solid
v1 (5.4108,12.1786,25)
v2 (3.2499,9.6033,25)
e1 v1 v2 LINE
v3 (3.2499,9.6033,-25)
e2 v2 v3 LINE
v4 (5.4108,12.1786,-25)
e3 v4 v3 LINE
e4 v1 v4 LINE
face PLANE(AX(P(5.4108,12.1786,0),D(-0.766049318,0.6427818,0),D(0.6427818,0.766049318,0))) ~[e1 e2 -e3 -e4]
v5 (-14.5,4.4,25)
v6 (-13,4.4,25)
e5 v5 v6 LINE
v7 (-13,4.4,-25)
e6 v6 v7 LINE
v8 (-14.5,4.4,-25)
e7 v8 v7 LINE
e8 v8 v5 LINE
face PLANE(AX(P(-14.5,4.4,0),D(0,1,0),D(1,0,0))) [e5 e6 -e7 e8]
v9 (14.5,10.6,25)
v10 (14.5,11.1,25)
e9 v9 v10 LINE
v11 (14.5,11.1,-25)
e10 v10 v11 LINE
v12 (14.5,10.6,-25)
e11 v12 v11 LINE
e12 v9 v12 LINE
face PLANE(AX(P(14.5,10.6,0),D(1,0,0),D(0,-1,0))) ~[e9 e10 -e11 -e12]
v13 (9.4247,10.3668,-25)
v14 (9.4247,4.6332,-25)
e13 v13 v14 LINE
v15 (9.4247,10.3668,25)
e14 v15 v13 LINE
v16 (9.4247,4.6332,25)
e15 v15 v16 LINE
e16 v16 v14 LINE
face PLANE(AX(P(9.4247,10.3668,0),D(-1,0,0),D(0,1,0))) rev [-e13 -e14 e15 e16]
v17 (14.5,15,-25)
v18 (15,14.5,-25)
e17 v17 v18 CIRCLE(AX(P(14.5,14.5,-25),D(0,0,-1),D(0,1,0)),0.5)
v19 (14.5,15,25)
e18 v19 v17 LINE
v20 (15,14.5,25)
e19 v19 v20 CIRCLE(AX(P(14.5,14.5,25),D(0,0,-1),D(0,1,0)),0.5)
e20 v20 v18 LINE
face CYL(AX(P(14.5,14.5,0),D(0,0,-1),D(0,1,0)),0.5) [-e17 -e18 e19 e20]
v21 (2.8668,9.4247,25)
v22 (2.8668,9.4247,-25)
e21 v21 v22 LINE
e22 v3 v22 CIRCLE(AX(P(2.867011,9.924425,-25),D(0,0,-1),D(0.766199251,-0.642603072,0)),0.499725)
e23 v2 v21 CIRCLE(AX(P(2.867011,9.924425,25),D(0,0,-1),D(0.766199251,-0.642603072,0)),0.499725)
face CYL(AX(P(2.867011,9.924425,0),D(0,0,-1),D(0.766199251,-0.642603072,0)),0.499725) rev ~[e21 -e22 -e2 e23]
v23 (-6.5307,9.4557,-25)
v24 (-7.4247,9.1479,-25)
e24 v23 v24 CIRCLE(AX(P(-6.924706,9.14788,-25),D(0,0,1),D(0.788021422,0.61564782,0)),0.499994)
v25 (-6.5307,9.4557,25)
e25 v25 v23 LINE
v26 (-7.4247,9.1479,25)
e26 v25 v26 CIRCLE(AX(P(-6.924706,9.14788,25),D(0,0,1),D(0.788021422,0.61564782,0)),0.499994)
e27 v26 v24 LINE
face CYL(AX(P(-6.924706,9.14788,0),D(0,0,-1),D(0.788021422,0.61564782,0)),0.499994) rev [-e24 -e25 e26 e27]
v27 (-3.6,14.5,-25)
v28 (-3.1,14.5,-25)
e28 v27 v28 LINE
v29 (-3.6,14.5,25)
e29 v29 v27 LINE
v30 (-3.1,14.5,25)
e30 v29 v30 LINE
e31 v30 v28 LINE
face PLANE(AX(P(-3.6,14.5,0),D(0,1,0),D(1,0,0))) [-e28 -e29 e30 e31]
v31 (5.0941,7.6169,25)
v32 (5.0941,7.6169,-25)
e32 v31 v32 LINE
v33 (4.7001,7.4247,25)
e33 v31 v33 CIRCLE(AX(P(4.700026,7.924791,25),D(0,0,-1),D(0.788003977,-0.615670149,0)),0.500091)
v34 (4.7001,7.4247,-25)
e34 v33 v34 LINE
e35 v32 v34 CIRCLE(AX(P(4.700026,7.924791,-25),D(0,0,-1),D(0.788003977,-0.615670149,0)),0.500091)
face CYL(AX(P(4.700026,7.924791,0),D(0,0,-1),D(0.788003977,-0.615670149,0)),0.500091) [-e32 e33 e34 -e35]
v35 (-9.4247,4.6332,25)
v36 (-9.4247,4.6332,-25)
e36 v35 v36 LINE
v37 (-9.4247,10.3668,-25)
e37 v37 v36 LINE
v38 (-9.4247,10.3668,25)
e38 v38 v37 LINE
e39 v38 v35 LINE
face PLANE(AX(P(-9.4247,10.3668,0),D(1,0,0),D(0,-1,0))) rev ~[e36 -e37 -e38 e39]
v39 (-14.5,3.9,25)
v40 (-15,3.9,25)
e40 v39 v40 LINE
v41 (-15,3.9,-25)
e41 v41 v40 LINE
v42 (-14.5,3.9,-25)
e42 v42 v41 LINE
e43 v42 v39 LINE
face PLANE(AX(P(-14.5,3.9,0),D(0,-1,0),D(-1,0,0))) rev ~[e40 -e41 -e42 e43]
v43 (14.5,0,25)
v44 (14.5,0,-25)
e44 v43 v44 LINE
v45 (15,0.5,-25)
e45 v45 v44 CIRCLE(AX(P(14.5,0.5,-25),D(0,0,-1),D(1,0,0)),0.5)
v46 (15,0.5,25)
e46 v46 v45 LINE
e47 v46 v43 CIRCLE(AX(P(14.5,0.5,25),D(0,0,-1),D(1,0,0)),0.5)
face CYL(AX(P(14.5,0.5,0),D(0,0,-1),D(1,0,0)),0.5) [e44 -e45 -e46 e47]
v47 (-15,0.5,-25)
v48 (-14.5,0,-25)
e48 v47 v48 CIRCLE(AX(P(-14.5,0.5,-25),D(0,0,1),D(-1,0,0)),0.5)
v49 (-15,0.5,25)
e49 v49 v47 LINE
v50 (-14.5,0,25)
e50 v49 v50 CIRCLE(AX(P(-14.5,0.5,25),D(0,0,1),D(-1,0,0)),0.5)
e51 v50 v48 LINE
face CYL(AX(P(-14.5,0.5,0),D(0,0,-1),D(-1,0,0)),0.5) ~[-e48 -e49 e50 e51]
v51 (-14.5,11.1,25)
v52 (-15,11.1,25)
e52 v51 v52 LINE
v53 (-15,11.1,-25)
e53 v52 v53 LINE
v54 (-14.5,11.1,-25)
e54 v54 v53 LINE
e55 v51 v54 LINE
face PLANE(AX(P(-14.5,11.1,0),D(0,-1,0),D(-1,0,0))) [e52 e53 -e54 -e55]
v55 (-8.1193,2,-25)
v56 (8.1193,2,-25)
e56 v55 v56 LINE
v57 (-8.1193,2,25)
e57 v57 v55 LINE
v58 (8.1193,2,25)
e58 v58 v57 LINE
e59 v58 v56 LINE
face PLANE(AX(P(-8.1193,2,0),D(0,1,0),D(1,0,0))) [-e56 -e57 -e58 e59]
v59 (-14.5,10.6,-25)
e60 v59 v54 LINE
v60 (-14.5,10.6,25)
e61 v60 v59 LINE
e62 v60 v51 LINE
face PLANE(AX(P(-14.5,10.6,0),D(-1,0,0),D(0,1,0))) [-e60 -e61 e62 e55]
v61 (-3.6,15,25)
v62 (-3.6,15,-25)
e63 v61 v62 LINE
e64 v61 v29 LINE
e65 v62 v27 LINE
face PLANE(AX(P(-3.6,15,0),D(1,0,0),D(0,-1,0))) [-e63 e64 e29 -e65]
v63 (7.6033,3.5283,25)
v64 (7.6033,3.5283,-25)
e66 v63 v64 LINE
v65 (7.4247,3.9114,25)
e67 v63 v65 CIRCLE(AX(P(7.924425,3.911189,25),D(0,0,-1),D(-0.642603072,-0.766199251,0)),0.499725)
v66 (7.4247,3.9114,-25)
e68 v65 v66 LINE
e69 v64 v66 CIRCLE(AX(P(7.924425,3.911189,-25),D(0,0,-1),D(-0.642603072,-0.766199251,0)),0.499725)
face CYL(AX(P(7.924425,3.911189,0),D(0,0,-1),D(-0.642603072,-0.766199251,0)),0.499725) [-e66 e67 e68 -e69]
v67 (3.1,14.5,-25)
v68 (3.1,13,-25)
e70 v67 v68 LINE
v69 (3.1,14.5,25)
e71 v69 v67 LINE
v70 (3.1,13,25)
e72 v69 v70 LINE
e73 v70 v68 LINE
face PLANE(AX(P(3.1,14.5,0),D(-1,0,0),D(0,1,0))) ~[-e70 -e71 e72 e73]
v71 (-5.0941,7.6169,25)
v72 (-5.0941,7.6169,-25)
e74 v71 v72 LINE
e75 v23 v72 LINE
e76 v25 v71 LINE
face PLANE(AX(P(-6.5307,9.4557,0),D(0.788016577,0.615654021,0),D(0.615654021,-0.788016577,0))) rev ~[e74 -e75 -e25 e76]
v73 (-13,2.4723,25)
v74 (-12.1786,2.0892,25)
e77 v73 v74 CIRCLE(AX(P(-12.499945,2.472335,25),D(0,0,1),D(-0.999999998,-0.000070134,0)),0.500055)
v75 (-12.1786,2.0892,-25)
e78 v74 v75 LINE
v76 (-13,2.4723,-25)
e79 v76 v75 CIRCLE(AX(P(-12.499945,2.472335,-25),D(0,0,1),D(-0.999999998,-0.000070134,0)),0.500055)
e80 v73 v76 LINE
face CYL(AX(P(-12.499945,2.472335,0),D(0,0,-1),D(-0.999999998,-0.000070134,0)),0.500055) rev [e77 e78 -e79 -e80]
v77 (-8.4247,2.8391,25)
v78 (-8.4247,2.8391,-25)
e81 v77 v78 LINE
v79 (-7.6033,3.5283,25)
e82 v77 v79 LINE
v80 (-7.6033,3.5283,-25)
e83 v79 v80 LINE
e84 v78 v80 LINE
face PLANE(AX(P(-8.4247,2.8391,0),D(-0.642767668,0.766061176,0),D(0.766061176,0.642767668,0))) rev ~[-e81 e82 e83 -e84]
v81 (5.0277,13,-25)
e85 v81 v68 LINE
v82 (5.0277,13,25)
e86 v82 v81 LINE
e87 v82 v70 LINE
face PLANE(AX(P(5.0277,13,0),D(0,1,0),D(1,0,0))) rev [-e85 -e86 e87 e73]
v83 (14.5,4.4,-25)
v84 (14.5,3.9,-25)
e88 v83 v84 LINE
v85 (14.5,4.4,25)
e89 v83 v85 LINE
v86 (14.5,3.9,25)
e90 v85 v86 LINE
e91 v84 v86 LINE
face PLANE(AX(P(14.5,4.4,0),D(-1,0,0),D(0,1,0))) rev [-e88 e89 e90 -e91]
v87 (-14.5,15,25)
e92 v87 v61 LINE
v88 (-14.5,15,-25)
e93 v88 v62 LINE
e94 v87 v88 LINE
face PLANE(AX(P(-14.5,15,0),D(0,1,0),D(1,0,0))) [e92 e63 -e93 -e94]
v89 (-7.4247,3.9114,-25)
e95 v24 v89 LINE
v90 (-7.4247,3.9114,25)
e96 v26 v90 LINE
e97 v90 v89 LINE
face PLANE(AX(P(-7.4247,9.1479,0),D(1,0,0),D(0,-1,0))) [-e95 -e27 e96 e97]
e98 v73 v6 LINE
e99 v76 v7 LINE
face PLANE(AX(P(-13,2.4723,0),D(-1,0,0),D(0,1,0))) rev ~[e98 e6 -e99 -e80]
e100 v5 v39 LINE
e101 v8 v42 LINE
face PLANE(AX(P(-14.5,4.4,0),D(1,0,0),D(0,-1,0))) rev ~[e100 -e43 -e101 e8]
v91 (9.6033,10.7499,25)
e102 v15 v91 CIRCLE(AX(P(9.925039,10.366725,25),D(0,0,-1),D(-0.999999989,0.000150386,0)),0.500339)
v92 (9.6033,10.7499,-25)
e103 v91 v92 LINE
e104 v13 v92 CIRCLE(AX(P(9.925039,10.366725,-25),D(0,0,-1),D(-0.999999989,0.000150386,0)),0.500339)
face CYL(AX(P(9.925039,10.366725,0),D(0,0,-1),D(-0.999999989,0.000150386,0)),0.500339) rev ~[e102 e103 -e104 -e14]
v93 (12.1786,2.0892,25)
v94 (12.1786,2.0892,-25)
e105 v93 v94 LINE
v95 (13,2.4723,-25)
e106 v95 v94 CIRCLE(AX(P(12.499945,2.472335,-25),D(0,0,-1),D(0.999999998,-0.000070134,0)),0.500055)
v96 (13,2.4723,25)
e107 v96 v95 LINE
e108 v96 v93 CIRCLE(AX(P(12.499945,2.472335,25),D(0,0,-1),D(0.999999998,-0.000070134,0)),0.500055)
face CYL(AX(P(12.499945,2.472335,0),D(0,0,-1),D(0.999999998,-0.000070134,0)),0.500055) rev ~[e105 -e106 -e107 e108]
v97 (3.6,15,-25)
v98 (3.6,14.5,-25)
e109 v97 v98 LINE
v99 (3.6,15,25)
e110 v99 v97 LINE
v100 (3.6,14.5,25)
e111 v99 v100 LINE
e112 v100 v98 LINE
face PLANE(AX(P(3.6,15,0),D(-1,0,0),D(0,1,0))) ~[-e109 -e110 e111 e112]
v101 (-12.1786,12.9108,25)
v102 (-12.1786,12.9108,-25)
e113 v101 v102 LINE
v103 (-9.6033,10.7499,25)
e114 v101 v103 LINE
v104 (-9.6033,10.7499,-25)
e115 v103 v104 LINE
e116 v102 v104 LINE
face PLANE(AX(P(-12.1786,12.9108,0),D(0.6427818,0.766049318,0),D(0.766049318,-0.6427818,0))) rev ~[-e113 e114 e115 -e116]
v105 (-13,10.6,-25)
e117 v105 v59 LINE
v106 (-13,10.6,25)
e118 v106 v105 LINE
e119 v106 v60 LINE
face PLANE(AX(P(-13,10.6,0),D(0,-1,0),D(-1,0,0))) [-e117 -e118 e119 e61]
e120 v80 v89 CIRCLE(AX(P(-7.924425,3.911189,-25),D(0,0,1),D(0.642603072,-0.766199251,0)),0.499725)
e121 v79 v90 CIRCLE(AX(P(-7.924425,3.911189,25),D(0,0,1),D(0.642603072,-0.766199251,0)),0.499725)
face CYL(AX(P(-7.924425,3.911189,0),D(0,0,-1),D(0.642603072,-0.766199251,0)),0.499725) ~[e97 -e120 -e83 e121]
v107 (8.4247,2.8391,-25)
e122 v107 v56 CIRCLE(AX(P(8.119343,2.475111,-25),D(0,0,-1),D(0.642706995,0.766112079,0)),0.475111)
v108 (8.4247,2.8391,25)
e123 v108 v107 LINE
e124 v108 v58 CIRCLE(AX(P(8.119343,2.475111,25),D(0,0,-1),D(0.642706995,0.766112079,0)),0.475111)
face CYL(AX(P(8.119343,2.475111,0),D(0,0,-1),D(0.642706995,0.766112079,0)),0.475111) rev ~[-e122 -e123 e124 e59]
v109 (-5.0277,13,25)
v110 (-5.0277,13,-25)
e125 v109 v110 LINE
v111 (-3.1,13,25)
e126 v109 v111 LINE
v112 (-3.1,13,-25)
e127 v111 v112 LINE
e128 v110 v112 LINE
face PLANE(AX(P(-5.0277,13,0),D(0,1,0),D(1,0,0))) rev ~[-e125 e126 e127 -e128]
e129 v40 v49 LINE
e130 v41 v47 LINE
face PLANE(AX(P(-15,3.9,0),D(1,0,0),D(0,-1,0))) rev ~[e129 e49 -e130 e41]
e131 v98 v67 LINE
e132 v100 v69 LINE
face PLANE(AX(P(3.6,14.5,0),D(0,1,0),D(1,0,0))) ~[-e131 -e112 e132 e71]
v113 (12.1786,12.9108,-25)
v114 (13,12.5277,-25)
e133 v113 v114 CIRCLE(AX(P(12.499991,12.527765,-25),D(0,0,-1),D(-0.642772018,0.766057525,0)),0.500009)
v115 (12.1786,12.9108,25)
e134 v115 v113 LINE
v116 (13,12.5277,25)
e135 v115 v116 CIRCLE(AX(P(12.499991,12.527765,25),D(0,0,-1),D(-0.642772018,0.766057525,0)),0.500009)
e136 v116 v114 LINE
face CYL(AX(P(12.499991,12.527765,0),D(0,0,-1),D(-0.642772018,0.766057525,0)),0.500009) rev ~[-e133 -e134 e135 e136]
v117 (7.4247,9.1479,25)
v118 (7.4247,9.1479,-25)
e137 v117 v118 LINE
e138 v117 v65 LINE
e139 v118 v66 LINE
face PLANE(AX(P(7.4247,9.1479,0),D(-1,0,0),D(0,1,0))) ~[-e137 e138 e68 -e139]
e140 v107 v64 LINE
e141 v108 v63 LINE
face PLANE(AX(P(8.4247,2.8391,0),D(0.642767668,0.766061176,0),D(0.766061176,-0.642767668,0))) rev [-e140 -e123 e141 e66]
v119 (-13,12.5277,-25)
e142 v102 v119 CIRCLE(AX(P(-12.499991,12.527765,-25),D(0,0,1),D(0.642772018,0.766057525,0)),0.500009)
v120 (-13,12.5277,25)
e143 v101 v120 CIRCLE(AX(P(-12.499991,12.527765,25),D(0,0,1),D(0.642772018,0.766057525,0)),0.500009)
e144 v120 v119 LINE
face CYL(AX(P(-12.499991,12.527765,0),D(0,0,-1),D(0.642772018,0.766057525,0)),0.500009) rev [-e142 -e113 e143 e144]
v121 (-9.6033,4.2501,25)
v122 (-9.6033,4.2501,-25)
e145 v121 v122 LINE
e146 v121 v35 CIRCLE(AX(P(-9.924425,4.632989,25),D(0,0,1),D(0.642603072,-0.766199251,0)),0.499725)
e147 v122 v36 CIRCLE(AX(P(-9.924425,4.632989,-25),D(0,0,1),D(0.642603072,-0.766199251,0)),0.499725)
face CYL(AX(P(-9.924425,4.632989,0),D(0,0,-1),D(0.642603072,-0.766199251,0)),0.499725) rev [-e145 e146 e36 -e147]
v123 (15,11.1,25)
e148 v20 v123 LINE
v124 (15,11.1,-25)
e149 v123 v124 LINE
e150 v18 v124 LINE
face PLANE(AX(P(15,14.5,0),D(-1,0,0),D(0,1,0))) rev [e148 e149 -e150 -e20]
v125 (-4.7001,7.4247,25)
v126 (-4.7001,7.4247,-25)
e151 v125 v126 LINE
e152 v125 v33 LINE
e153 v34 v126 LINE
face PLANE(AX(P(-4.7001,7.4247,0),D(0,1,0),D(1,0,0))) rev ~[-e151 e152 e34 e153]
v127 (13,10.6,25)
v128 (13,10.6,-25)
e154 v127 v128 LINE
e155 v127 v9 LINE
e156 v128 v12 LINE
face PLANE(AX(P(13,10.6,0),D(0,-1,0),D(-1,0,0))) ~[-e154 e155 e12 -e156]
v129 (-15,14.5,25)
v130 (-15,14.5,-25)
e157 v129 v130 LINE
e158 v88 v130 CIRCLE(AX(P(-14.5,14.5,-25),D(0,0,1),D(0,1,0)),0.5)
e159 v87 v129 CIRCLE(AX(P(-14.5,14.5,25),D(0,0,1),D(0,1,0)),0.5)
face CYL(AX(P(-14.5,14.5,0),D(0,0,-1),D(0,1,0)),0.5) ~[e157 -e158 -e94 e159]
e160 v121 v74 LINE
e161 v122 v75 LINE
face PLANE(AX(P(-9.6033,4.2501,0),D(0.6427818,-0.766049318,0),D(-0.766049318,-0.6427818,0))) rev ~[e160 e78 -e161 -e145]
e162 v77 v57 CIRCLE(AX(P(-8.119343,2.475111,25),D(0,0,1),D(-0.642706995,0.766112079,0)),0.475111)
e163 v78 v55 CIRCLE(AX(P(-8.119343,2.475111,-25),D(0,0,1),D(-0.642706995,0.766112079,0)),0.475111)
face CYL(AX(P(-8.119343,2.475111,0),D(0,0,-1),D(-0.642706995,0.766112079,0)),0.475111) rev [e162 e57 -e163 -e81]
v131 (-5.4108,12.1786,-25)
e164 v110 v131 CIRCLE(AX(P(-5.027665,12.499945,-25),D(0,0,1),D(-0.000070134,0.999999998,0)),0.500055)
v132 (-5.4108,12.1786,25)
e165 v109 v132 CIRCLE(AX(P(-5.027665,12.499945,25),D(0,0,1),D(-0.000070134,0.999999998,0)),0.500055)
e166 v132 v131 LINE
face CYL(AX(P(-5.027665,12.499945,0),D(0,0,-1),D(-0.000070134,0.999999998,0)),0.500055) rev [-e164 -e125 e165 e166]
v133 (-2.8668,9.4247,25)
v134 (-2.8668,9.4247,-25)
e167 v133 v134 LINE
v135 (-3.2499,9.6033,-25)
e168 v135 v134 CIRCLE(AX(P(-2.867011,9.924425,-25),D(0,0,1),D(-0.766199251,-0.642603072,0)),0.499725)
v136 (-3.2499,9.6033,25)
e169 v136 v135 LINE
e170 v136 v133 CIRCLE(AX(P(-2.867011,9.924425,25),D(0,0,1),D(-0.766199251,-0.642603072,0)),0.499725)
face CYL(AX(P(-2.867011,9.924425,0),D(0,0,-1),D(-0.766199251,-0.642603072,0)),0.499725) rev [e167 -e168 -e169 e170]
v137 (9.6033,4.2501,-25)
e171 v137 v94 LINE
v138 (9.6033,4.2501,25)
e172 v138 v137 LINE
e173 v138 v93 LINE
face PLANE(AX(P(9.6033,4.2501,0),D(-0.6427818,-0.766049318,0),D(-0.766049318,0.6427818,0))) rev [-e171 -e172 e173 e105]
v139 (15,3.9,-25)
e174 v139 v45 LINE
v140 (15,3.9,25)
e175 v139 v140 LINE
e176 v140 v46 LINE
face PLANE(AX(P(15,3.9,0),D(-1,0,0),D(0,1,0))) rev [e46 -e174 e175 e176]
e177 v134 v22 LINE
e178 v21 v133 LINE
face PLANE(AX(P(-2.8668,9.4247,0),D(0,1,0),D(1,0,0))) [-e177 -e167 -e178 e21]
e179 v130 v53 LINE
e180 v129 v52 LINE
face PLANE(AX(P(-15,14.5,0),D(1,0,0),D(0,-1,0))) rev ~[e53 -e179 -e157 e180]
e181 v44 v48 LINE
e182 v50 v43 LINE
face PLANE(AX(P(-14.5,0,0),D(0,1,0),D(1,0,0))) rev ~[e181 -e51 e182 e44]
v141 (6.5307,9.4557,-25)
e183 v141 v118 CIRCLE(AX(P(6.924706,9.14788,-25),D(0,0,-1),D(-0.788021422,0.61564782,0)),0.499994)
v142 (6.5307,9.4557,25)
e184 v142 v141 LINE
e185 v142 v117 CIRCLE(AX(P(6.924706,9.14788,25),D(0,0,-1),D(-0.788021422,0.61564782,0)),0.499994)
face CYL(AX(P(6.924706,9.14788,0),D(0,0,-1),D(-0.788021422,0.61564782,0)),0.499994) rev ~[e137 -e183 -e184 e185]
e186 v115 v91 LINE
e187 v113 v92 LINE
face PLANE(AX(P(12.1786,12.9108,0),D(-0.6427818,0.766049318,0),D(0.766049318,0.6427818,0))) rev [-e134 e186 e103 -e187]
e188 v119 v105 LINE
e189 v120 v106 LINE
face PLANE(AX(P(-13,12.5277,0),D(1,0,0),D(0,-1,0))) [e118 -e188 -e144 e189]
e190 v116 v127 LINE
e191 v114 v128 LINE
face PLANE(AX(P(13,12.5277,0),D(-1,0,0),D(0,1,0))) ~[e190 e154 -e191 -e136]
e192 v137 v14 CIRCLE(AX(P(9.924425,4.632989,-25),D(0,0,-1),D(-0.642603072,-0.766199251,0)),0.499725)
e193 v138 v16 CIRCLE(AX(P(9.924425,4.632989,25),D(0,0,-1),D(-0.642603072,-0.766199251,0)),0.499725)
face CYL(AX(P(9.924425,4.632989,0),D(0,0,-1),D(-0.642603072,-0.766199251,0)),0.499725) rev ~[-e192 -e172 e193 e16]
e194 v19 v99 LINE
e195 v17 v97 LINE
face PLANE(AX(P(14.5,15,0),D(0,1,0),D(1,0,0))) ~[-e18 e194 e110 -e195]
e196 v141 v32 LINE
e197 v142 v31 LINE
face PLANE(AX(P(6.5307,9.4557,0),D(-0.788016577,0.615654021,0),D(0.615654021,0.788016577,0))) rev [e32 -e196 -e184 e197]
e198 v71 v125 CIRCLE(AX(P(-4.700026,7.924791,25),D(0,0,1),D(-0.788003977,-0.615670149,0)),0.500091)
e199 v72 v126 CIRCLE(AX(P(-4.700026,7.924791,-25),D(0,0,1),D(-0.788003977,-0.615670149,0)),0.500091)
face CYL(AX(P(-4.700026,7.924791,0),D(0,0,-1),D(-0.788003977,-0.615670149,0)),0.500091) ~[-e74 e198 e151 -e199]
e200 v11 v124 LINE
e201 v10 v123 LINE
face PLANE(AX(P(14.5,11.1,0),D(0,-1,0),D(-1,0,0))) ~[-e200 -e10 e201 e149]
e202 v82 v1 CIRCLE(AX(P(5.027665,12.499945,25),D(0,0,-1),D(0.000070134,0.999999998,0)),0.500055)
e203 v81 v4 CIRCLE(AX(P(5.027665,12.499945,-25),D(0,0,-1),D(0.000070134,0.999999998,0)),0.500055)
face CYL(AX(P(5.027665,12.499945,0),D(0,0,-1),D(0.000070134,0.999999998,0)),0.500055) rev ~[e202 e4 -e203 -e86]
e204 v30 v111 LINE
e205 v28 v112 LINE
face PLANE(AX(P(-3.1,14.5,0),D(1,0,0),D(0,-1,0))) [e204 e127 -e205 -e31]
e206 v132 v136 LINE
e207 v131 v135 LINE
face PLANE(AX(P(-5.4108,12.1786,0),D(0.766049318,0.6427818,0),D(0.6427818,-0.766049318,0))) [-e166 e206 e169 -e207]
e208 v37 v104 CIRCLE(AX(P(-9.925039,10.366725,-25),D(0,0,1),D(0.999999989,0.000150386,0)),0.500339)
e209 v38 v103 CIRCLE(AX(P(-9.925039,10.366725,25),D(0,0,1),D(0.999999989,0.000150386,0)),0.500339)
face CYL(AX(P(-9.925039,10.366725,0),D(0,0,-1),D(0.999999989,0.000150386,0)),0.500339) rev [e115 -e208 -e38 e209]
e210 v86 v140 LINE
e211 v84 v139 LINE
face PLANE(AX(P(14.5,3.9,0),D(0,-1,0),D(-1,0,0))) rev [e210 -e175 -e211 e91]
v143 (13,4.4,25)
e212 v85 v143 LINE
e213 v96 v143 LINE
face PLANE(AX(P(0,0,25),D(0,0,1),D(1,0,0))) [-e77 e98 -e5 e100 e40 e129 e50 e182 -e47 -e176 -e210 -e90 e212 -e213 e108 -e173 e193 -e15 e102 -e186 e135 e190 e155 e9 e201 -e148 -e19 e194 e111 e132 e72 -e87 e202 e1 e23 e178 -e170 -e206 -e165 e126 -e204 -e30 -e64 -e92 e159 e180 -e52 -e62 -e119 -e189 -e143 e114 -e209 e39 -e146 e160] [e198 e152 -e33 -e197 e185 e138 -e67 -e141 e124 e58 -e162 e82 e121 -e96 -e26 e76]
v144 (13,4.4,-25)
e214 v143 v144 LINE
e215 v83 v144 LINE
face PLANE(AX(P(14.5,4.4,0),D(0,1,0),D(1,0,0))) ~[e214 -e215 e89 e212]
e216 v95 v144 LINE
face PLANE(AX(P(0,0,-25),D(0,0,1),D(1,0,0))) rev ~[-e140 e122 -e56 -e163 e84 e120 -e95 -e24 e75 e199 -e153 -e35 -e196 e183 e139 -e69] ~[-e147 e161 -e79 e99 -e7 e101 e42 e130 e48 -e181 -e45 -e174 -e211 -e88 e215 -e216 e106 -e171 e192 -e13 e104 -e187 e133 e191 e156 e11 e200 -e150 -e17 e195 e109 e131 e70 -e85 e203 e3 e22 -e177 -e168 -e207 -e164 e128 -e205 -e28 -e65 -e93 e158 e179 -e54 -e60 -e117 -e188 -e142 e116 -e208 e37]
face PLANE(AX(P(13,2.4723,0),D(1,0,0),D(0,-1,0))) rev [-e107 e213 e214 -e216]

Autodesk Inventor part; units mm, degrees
ref_plane "YZ Plane" through (0, 0, 0) normal (1, 0, 0) x (0, 1, 0)
ref_plane "XZ Plane" through (0, 0, 0) normal (0, 1, 0) x (-1, 0, 0)
ref_plane "XY Plane" through (0, 0, 0) normal (0, 0, 1) x (1, 0, 0)
sketch "Esboço1" plane through (0, 0, 0) normal (0, 0, 1) x (1, 0, 0)
  line L0 (-15, 15) -> (15, 15) construction
  line L1 (-15, 15) -> (-15, 10.6) construction
  line L2 (-15, 10.6) -> (-13, 10.6) construction
  line L3 (-13, 13.6) -> (-13, 10.6) construction
  line L4 (-13, 13.6) -> (-9.4247, 10.6) construction
  line L5 (-9.4247, 10.6) -> (-9.4247, 4.4) construction
  line L6 (-9.4247, 4.4) -> (-13, 1.4) construction
  line L7 (-13, 4.4) -> (-13, 1.4) construction
  line L8 (-15, 4.4) -> (-13, 4.4) construction
  line L9 (-15, 4.4) -> (-15, 0) construction
  line L10 (-15, 0) -> (0, 0) construction
  line L11 (-15, 4.4) -> (-14.5, 4.4) construction
  line L12 (-14.5, 4.4) -> (-14.5, 3.9)
  line L13 (-14.5, 3.9) -> (-15, 3.9)
  line L14 (-15, 3.9) -> (-15, 4.4) construction
  line L15 (-15, 10.6) -> (-14.5, 10.6) construction
  line L16 (-14.5, 10.6) -> (-14.5, 11.1)
  line L17 (-14.5, 11.1) -> (-15, 11.1)
  line L18 (-15, 11.1) -> (-15, 10.6) construction
  line L19 (-3.1, 9.4247) -> (3.1, 9.4247) construction
  line L20 (-6.1, 13) -> (-3.1, 9.4247) construction
  line L21 (-6.1, 13) -> (-3.1, 13) construction
  line L22 (-3.1, 15) -> (-3.1, 13) construction
  line L23 (-3.1, 9.4247) -> (0, 9.4247) construction
  line L24 (-3.1, 15) -> (-3.6, 15) construction
  line L25 (-3.6, 15) -> (-3.6, 14.5)
  line L26 (-3.6, 14.5) -> (-3.1, 14.5)
  line L27 (-3.1, 14.5) -> (-3.1, 15) construction
  line L28 (-9.4247, 2) -> (0, 2) construction
  line L29 (-7.4247, 3.6782) -> (-9.4247, 2) construction
  line L30 (-7.4247, 10.6) -> (-7.4247, 3.6782) construction
  line L31 (-7.4247, 10.6) -> (-4.944, 7.4247) construction
  line L32 (-4.944, 7.4247) -> (0, 7.4247) construction
  arc A0 (-14.5, 15) -> (-15, 14.5) centre (-14.5, 14.5) ccw
  arc A1 (-12.1786, 12.9108) -> (-13, 12.5277) centre (-12.5, 12.5277) ccw
  line L33 (-14.5, 15) -> (-3.6, 15)
  line L34 (-13, 12.5277) -> (-13, 10.6)
  line L35 (-13, 10.6) -> (-14.5, 10.6)
  arc A2 (-9.4247, 10.3668) -> (-9.6033, 10.7499) centre (-9.9247, 10.3668) ccw
  arc A3 (-9.6033, 4.2501) -> (-9.4247, 4.6332) centre (-9.9247, 4.6332) ccw
  arc A4 (-13, 2.4723) -> (-12.1786, 2.0892) centre (-12.5, 2.4723) ccw
  line L36 (-12.1786, 12.9108) -> (-9.6033, 10.7499)
  line L37 (-9.4247, 10.3668) -> (-9.4247, 4.6332)
  line L38 (-9.6033, 4.2501) -> (-12.1786, 2.0892)
  line L39 (-13, 2.4723) -> (-13, 4.4)
  arc A5 (-15, 0.5) -> (-14.5, 0) centre (-14.5, 0.5) ccw
  line L40 (-15, 14.5) -> (-15, 11.1)
  line L41 (-15, 3.9) -> (-15, 0.5)
  line L42 (-14.5, 0) -> (0, 0)
  arc A6 (-8.4247, 2.8391) -> (-8.1193, 2) centre (-8.1193, 2.4751) ccw
  arc A7 (-6.5307, 9.4557) -> (-7.4247, 9.1479) centre (-6.9247, 9.1479) ccw
  line L43 (-8.1193, 2) -> (0, 2)
  arc A8 (-7.6033, 3.5283) -> (-7.4247, 3.9114) centre (-7.9247, 3.9114) ccw
  arc A9 (-5.0941, 7.6169) -> (-4.7001, 7.4247) centre (-4.7001, 7.9247) ccw
  arc A10 (-3.2499, 9.6033) -> (-2.8668, 9.4247) centre (-2.8668, 9.9247) ccw
  arc A11 (-5.0277, 13) -> (-5.4108, 12.1786) centre (-5.0277, 12.5) ccw
  line L44 (-5.0277, 13) -> (-3.1, 13)
  line L45 (-5.4108, 12.1786) -> (-3.2499, 9.6033)
  line L46 (-2.8668, 9.4247) -> (0, 9.4247)
  line L47 (-4.7001, 7.4247) -> (0, 7.4247)
  line L48 (-6.5307, 9.4557) -> (-5.0941, 7.6169)
  line L49 (-7.4247, 9.1479) -> (-7.4247, 3.9114)
  line L50 (0, 2) -> (0, 0)
  line L51 (0, 7.4247) -> (0, 9.4247)
  line L52 (-3.1, 14.5) -> (-3.1, 13)
  line L53 (-14.5, 4.4) -> (-13, 4.4)
  line L54 (-8.4247, 2.8391) -> (-7.6033, 3.5283)
  point P0 (0, 0)
  point P1 (0, 15)
  point P2 (-14, 4.4)
  point P3 (-1.55, 9.4247)
  point P4 (-9.6033, 10.7499)
  dimension "d0" = 30
  dimension "d1" = 15
  dimension "d6" = 2
  dimension "d7" = 3
  dimension "d9" = 50
  dimension "d12" = 0.5
  dimension "d18" = 50
  dimension "d19" = 2
  dimension "d21" = 2
  dimension "d22" = 2
  dimension "d24" = 2
  dimension "d25" = 0.5
  dimension "d26" = 0.5
  dimension "d27" = 0.5
  dimension "d28" = 0.5
  dimension "d29" = 0.5
  dimension "d30" = 0.5
  dimension "d31" = 0.5
  dimension "d32" = 0.5
  dimension "d33" = 0.5
  dimension "d34" = 0.5
  dimension "d35" = 0.5
  dimension "d38" = 3.1
  dimension "d39" = 6.2
  dimension "d40" = 15
extrude "Extrusão1" add sketch "Esboço1" along normal mid plane 50
mirror "Espelhar1" about plane through (0, 0, 0) normal (1, 0, 0) of "Extrusão1"
equation "\"d6\" = d21"
equation "\"d18\" = d9"
equation "\"d19\" = d21"
equation "\"d22\" = d20"
equation "\"d24\" = d21"
equation "\"d25\" = d35"
equation "\"d26\" = d35"
equation "\"d27\" = d35"
equation "\"d28\" = d35"
equation "\"d29\" = d35"
equation "\"d30\" = d35"
equation "\"d31\" = d35"
equation "\"d32\" = d35"
equation "\"d33\" = d35"
equation "\"d34\" = d35"
equation "\"d39\" = 2 * d38"
equation "\"d20\" = 2deg"
properties part number "perfil_15x30_001" material "Alumínio 6061"
